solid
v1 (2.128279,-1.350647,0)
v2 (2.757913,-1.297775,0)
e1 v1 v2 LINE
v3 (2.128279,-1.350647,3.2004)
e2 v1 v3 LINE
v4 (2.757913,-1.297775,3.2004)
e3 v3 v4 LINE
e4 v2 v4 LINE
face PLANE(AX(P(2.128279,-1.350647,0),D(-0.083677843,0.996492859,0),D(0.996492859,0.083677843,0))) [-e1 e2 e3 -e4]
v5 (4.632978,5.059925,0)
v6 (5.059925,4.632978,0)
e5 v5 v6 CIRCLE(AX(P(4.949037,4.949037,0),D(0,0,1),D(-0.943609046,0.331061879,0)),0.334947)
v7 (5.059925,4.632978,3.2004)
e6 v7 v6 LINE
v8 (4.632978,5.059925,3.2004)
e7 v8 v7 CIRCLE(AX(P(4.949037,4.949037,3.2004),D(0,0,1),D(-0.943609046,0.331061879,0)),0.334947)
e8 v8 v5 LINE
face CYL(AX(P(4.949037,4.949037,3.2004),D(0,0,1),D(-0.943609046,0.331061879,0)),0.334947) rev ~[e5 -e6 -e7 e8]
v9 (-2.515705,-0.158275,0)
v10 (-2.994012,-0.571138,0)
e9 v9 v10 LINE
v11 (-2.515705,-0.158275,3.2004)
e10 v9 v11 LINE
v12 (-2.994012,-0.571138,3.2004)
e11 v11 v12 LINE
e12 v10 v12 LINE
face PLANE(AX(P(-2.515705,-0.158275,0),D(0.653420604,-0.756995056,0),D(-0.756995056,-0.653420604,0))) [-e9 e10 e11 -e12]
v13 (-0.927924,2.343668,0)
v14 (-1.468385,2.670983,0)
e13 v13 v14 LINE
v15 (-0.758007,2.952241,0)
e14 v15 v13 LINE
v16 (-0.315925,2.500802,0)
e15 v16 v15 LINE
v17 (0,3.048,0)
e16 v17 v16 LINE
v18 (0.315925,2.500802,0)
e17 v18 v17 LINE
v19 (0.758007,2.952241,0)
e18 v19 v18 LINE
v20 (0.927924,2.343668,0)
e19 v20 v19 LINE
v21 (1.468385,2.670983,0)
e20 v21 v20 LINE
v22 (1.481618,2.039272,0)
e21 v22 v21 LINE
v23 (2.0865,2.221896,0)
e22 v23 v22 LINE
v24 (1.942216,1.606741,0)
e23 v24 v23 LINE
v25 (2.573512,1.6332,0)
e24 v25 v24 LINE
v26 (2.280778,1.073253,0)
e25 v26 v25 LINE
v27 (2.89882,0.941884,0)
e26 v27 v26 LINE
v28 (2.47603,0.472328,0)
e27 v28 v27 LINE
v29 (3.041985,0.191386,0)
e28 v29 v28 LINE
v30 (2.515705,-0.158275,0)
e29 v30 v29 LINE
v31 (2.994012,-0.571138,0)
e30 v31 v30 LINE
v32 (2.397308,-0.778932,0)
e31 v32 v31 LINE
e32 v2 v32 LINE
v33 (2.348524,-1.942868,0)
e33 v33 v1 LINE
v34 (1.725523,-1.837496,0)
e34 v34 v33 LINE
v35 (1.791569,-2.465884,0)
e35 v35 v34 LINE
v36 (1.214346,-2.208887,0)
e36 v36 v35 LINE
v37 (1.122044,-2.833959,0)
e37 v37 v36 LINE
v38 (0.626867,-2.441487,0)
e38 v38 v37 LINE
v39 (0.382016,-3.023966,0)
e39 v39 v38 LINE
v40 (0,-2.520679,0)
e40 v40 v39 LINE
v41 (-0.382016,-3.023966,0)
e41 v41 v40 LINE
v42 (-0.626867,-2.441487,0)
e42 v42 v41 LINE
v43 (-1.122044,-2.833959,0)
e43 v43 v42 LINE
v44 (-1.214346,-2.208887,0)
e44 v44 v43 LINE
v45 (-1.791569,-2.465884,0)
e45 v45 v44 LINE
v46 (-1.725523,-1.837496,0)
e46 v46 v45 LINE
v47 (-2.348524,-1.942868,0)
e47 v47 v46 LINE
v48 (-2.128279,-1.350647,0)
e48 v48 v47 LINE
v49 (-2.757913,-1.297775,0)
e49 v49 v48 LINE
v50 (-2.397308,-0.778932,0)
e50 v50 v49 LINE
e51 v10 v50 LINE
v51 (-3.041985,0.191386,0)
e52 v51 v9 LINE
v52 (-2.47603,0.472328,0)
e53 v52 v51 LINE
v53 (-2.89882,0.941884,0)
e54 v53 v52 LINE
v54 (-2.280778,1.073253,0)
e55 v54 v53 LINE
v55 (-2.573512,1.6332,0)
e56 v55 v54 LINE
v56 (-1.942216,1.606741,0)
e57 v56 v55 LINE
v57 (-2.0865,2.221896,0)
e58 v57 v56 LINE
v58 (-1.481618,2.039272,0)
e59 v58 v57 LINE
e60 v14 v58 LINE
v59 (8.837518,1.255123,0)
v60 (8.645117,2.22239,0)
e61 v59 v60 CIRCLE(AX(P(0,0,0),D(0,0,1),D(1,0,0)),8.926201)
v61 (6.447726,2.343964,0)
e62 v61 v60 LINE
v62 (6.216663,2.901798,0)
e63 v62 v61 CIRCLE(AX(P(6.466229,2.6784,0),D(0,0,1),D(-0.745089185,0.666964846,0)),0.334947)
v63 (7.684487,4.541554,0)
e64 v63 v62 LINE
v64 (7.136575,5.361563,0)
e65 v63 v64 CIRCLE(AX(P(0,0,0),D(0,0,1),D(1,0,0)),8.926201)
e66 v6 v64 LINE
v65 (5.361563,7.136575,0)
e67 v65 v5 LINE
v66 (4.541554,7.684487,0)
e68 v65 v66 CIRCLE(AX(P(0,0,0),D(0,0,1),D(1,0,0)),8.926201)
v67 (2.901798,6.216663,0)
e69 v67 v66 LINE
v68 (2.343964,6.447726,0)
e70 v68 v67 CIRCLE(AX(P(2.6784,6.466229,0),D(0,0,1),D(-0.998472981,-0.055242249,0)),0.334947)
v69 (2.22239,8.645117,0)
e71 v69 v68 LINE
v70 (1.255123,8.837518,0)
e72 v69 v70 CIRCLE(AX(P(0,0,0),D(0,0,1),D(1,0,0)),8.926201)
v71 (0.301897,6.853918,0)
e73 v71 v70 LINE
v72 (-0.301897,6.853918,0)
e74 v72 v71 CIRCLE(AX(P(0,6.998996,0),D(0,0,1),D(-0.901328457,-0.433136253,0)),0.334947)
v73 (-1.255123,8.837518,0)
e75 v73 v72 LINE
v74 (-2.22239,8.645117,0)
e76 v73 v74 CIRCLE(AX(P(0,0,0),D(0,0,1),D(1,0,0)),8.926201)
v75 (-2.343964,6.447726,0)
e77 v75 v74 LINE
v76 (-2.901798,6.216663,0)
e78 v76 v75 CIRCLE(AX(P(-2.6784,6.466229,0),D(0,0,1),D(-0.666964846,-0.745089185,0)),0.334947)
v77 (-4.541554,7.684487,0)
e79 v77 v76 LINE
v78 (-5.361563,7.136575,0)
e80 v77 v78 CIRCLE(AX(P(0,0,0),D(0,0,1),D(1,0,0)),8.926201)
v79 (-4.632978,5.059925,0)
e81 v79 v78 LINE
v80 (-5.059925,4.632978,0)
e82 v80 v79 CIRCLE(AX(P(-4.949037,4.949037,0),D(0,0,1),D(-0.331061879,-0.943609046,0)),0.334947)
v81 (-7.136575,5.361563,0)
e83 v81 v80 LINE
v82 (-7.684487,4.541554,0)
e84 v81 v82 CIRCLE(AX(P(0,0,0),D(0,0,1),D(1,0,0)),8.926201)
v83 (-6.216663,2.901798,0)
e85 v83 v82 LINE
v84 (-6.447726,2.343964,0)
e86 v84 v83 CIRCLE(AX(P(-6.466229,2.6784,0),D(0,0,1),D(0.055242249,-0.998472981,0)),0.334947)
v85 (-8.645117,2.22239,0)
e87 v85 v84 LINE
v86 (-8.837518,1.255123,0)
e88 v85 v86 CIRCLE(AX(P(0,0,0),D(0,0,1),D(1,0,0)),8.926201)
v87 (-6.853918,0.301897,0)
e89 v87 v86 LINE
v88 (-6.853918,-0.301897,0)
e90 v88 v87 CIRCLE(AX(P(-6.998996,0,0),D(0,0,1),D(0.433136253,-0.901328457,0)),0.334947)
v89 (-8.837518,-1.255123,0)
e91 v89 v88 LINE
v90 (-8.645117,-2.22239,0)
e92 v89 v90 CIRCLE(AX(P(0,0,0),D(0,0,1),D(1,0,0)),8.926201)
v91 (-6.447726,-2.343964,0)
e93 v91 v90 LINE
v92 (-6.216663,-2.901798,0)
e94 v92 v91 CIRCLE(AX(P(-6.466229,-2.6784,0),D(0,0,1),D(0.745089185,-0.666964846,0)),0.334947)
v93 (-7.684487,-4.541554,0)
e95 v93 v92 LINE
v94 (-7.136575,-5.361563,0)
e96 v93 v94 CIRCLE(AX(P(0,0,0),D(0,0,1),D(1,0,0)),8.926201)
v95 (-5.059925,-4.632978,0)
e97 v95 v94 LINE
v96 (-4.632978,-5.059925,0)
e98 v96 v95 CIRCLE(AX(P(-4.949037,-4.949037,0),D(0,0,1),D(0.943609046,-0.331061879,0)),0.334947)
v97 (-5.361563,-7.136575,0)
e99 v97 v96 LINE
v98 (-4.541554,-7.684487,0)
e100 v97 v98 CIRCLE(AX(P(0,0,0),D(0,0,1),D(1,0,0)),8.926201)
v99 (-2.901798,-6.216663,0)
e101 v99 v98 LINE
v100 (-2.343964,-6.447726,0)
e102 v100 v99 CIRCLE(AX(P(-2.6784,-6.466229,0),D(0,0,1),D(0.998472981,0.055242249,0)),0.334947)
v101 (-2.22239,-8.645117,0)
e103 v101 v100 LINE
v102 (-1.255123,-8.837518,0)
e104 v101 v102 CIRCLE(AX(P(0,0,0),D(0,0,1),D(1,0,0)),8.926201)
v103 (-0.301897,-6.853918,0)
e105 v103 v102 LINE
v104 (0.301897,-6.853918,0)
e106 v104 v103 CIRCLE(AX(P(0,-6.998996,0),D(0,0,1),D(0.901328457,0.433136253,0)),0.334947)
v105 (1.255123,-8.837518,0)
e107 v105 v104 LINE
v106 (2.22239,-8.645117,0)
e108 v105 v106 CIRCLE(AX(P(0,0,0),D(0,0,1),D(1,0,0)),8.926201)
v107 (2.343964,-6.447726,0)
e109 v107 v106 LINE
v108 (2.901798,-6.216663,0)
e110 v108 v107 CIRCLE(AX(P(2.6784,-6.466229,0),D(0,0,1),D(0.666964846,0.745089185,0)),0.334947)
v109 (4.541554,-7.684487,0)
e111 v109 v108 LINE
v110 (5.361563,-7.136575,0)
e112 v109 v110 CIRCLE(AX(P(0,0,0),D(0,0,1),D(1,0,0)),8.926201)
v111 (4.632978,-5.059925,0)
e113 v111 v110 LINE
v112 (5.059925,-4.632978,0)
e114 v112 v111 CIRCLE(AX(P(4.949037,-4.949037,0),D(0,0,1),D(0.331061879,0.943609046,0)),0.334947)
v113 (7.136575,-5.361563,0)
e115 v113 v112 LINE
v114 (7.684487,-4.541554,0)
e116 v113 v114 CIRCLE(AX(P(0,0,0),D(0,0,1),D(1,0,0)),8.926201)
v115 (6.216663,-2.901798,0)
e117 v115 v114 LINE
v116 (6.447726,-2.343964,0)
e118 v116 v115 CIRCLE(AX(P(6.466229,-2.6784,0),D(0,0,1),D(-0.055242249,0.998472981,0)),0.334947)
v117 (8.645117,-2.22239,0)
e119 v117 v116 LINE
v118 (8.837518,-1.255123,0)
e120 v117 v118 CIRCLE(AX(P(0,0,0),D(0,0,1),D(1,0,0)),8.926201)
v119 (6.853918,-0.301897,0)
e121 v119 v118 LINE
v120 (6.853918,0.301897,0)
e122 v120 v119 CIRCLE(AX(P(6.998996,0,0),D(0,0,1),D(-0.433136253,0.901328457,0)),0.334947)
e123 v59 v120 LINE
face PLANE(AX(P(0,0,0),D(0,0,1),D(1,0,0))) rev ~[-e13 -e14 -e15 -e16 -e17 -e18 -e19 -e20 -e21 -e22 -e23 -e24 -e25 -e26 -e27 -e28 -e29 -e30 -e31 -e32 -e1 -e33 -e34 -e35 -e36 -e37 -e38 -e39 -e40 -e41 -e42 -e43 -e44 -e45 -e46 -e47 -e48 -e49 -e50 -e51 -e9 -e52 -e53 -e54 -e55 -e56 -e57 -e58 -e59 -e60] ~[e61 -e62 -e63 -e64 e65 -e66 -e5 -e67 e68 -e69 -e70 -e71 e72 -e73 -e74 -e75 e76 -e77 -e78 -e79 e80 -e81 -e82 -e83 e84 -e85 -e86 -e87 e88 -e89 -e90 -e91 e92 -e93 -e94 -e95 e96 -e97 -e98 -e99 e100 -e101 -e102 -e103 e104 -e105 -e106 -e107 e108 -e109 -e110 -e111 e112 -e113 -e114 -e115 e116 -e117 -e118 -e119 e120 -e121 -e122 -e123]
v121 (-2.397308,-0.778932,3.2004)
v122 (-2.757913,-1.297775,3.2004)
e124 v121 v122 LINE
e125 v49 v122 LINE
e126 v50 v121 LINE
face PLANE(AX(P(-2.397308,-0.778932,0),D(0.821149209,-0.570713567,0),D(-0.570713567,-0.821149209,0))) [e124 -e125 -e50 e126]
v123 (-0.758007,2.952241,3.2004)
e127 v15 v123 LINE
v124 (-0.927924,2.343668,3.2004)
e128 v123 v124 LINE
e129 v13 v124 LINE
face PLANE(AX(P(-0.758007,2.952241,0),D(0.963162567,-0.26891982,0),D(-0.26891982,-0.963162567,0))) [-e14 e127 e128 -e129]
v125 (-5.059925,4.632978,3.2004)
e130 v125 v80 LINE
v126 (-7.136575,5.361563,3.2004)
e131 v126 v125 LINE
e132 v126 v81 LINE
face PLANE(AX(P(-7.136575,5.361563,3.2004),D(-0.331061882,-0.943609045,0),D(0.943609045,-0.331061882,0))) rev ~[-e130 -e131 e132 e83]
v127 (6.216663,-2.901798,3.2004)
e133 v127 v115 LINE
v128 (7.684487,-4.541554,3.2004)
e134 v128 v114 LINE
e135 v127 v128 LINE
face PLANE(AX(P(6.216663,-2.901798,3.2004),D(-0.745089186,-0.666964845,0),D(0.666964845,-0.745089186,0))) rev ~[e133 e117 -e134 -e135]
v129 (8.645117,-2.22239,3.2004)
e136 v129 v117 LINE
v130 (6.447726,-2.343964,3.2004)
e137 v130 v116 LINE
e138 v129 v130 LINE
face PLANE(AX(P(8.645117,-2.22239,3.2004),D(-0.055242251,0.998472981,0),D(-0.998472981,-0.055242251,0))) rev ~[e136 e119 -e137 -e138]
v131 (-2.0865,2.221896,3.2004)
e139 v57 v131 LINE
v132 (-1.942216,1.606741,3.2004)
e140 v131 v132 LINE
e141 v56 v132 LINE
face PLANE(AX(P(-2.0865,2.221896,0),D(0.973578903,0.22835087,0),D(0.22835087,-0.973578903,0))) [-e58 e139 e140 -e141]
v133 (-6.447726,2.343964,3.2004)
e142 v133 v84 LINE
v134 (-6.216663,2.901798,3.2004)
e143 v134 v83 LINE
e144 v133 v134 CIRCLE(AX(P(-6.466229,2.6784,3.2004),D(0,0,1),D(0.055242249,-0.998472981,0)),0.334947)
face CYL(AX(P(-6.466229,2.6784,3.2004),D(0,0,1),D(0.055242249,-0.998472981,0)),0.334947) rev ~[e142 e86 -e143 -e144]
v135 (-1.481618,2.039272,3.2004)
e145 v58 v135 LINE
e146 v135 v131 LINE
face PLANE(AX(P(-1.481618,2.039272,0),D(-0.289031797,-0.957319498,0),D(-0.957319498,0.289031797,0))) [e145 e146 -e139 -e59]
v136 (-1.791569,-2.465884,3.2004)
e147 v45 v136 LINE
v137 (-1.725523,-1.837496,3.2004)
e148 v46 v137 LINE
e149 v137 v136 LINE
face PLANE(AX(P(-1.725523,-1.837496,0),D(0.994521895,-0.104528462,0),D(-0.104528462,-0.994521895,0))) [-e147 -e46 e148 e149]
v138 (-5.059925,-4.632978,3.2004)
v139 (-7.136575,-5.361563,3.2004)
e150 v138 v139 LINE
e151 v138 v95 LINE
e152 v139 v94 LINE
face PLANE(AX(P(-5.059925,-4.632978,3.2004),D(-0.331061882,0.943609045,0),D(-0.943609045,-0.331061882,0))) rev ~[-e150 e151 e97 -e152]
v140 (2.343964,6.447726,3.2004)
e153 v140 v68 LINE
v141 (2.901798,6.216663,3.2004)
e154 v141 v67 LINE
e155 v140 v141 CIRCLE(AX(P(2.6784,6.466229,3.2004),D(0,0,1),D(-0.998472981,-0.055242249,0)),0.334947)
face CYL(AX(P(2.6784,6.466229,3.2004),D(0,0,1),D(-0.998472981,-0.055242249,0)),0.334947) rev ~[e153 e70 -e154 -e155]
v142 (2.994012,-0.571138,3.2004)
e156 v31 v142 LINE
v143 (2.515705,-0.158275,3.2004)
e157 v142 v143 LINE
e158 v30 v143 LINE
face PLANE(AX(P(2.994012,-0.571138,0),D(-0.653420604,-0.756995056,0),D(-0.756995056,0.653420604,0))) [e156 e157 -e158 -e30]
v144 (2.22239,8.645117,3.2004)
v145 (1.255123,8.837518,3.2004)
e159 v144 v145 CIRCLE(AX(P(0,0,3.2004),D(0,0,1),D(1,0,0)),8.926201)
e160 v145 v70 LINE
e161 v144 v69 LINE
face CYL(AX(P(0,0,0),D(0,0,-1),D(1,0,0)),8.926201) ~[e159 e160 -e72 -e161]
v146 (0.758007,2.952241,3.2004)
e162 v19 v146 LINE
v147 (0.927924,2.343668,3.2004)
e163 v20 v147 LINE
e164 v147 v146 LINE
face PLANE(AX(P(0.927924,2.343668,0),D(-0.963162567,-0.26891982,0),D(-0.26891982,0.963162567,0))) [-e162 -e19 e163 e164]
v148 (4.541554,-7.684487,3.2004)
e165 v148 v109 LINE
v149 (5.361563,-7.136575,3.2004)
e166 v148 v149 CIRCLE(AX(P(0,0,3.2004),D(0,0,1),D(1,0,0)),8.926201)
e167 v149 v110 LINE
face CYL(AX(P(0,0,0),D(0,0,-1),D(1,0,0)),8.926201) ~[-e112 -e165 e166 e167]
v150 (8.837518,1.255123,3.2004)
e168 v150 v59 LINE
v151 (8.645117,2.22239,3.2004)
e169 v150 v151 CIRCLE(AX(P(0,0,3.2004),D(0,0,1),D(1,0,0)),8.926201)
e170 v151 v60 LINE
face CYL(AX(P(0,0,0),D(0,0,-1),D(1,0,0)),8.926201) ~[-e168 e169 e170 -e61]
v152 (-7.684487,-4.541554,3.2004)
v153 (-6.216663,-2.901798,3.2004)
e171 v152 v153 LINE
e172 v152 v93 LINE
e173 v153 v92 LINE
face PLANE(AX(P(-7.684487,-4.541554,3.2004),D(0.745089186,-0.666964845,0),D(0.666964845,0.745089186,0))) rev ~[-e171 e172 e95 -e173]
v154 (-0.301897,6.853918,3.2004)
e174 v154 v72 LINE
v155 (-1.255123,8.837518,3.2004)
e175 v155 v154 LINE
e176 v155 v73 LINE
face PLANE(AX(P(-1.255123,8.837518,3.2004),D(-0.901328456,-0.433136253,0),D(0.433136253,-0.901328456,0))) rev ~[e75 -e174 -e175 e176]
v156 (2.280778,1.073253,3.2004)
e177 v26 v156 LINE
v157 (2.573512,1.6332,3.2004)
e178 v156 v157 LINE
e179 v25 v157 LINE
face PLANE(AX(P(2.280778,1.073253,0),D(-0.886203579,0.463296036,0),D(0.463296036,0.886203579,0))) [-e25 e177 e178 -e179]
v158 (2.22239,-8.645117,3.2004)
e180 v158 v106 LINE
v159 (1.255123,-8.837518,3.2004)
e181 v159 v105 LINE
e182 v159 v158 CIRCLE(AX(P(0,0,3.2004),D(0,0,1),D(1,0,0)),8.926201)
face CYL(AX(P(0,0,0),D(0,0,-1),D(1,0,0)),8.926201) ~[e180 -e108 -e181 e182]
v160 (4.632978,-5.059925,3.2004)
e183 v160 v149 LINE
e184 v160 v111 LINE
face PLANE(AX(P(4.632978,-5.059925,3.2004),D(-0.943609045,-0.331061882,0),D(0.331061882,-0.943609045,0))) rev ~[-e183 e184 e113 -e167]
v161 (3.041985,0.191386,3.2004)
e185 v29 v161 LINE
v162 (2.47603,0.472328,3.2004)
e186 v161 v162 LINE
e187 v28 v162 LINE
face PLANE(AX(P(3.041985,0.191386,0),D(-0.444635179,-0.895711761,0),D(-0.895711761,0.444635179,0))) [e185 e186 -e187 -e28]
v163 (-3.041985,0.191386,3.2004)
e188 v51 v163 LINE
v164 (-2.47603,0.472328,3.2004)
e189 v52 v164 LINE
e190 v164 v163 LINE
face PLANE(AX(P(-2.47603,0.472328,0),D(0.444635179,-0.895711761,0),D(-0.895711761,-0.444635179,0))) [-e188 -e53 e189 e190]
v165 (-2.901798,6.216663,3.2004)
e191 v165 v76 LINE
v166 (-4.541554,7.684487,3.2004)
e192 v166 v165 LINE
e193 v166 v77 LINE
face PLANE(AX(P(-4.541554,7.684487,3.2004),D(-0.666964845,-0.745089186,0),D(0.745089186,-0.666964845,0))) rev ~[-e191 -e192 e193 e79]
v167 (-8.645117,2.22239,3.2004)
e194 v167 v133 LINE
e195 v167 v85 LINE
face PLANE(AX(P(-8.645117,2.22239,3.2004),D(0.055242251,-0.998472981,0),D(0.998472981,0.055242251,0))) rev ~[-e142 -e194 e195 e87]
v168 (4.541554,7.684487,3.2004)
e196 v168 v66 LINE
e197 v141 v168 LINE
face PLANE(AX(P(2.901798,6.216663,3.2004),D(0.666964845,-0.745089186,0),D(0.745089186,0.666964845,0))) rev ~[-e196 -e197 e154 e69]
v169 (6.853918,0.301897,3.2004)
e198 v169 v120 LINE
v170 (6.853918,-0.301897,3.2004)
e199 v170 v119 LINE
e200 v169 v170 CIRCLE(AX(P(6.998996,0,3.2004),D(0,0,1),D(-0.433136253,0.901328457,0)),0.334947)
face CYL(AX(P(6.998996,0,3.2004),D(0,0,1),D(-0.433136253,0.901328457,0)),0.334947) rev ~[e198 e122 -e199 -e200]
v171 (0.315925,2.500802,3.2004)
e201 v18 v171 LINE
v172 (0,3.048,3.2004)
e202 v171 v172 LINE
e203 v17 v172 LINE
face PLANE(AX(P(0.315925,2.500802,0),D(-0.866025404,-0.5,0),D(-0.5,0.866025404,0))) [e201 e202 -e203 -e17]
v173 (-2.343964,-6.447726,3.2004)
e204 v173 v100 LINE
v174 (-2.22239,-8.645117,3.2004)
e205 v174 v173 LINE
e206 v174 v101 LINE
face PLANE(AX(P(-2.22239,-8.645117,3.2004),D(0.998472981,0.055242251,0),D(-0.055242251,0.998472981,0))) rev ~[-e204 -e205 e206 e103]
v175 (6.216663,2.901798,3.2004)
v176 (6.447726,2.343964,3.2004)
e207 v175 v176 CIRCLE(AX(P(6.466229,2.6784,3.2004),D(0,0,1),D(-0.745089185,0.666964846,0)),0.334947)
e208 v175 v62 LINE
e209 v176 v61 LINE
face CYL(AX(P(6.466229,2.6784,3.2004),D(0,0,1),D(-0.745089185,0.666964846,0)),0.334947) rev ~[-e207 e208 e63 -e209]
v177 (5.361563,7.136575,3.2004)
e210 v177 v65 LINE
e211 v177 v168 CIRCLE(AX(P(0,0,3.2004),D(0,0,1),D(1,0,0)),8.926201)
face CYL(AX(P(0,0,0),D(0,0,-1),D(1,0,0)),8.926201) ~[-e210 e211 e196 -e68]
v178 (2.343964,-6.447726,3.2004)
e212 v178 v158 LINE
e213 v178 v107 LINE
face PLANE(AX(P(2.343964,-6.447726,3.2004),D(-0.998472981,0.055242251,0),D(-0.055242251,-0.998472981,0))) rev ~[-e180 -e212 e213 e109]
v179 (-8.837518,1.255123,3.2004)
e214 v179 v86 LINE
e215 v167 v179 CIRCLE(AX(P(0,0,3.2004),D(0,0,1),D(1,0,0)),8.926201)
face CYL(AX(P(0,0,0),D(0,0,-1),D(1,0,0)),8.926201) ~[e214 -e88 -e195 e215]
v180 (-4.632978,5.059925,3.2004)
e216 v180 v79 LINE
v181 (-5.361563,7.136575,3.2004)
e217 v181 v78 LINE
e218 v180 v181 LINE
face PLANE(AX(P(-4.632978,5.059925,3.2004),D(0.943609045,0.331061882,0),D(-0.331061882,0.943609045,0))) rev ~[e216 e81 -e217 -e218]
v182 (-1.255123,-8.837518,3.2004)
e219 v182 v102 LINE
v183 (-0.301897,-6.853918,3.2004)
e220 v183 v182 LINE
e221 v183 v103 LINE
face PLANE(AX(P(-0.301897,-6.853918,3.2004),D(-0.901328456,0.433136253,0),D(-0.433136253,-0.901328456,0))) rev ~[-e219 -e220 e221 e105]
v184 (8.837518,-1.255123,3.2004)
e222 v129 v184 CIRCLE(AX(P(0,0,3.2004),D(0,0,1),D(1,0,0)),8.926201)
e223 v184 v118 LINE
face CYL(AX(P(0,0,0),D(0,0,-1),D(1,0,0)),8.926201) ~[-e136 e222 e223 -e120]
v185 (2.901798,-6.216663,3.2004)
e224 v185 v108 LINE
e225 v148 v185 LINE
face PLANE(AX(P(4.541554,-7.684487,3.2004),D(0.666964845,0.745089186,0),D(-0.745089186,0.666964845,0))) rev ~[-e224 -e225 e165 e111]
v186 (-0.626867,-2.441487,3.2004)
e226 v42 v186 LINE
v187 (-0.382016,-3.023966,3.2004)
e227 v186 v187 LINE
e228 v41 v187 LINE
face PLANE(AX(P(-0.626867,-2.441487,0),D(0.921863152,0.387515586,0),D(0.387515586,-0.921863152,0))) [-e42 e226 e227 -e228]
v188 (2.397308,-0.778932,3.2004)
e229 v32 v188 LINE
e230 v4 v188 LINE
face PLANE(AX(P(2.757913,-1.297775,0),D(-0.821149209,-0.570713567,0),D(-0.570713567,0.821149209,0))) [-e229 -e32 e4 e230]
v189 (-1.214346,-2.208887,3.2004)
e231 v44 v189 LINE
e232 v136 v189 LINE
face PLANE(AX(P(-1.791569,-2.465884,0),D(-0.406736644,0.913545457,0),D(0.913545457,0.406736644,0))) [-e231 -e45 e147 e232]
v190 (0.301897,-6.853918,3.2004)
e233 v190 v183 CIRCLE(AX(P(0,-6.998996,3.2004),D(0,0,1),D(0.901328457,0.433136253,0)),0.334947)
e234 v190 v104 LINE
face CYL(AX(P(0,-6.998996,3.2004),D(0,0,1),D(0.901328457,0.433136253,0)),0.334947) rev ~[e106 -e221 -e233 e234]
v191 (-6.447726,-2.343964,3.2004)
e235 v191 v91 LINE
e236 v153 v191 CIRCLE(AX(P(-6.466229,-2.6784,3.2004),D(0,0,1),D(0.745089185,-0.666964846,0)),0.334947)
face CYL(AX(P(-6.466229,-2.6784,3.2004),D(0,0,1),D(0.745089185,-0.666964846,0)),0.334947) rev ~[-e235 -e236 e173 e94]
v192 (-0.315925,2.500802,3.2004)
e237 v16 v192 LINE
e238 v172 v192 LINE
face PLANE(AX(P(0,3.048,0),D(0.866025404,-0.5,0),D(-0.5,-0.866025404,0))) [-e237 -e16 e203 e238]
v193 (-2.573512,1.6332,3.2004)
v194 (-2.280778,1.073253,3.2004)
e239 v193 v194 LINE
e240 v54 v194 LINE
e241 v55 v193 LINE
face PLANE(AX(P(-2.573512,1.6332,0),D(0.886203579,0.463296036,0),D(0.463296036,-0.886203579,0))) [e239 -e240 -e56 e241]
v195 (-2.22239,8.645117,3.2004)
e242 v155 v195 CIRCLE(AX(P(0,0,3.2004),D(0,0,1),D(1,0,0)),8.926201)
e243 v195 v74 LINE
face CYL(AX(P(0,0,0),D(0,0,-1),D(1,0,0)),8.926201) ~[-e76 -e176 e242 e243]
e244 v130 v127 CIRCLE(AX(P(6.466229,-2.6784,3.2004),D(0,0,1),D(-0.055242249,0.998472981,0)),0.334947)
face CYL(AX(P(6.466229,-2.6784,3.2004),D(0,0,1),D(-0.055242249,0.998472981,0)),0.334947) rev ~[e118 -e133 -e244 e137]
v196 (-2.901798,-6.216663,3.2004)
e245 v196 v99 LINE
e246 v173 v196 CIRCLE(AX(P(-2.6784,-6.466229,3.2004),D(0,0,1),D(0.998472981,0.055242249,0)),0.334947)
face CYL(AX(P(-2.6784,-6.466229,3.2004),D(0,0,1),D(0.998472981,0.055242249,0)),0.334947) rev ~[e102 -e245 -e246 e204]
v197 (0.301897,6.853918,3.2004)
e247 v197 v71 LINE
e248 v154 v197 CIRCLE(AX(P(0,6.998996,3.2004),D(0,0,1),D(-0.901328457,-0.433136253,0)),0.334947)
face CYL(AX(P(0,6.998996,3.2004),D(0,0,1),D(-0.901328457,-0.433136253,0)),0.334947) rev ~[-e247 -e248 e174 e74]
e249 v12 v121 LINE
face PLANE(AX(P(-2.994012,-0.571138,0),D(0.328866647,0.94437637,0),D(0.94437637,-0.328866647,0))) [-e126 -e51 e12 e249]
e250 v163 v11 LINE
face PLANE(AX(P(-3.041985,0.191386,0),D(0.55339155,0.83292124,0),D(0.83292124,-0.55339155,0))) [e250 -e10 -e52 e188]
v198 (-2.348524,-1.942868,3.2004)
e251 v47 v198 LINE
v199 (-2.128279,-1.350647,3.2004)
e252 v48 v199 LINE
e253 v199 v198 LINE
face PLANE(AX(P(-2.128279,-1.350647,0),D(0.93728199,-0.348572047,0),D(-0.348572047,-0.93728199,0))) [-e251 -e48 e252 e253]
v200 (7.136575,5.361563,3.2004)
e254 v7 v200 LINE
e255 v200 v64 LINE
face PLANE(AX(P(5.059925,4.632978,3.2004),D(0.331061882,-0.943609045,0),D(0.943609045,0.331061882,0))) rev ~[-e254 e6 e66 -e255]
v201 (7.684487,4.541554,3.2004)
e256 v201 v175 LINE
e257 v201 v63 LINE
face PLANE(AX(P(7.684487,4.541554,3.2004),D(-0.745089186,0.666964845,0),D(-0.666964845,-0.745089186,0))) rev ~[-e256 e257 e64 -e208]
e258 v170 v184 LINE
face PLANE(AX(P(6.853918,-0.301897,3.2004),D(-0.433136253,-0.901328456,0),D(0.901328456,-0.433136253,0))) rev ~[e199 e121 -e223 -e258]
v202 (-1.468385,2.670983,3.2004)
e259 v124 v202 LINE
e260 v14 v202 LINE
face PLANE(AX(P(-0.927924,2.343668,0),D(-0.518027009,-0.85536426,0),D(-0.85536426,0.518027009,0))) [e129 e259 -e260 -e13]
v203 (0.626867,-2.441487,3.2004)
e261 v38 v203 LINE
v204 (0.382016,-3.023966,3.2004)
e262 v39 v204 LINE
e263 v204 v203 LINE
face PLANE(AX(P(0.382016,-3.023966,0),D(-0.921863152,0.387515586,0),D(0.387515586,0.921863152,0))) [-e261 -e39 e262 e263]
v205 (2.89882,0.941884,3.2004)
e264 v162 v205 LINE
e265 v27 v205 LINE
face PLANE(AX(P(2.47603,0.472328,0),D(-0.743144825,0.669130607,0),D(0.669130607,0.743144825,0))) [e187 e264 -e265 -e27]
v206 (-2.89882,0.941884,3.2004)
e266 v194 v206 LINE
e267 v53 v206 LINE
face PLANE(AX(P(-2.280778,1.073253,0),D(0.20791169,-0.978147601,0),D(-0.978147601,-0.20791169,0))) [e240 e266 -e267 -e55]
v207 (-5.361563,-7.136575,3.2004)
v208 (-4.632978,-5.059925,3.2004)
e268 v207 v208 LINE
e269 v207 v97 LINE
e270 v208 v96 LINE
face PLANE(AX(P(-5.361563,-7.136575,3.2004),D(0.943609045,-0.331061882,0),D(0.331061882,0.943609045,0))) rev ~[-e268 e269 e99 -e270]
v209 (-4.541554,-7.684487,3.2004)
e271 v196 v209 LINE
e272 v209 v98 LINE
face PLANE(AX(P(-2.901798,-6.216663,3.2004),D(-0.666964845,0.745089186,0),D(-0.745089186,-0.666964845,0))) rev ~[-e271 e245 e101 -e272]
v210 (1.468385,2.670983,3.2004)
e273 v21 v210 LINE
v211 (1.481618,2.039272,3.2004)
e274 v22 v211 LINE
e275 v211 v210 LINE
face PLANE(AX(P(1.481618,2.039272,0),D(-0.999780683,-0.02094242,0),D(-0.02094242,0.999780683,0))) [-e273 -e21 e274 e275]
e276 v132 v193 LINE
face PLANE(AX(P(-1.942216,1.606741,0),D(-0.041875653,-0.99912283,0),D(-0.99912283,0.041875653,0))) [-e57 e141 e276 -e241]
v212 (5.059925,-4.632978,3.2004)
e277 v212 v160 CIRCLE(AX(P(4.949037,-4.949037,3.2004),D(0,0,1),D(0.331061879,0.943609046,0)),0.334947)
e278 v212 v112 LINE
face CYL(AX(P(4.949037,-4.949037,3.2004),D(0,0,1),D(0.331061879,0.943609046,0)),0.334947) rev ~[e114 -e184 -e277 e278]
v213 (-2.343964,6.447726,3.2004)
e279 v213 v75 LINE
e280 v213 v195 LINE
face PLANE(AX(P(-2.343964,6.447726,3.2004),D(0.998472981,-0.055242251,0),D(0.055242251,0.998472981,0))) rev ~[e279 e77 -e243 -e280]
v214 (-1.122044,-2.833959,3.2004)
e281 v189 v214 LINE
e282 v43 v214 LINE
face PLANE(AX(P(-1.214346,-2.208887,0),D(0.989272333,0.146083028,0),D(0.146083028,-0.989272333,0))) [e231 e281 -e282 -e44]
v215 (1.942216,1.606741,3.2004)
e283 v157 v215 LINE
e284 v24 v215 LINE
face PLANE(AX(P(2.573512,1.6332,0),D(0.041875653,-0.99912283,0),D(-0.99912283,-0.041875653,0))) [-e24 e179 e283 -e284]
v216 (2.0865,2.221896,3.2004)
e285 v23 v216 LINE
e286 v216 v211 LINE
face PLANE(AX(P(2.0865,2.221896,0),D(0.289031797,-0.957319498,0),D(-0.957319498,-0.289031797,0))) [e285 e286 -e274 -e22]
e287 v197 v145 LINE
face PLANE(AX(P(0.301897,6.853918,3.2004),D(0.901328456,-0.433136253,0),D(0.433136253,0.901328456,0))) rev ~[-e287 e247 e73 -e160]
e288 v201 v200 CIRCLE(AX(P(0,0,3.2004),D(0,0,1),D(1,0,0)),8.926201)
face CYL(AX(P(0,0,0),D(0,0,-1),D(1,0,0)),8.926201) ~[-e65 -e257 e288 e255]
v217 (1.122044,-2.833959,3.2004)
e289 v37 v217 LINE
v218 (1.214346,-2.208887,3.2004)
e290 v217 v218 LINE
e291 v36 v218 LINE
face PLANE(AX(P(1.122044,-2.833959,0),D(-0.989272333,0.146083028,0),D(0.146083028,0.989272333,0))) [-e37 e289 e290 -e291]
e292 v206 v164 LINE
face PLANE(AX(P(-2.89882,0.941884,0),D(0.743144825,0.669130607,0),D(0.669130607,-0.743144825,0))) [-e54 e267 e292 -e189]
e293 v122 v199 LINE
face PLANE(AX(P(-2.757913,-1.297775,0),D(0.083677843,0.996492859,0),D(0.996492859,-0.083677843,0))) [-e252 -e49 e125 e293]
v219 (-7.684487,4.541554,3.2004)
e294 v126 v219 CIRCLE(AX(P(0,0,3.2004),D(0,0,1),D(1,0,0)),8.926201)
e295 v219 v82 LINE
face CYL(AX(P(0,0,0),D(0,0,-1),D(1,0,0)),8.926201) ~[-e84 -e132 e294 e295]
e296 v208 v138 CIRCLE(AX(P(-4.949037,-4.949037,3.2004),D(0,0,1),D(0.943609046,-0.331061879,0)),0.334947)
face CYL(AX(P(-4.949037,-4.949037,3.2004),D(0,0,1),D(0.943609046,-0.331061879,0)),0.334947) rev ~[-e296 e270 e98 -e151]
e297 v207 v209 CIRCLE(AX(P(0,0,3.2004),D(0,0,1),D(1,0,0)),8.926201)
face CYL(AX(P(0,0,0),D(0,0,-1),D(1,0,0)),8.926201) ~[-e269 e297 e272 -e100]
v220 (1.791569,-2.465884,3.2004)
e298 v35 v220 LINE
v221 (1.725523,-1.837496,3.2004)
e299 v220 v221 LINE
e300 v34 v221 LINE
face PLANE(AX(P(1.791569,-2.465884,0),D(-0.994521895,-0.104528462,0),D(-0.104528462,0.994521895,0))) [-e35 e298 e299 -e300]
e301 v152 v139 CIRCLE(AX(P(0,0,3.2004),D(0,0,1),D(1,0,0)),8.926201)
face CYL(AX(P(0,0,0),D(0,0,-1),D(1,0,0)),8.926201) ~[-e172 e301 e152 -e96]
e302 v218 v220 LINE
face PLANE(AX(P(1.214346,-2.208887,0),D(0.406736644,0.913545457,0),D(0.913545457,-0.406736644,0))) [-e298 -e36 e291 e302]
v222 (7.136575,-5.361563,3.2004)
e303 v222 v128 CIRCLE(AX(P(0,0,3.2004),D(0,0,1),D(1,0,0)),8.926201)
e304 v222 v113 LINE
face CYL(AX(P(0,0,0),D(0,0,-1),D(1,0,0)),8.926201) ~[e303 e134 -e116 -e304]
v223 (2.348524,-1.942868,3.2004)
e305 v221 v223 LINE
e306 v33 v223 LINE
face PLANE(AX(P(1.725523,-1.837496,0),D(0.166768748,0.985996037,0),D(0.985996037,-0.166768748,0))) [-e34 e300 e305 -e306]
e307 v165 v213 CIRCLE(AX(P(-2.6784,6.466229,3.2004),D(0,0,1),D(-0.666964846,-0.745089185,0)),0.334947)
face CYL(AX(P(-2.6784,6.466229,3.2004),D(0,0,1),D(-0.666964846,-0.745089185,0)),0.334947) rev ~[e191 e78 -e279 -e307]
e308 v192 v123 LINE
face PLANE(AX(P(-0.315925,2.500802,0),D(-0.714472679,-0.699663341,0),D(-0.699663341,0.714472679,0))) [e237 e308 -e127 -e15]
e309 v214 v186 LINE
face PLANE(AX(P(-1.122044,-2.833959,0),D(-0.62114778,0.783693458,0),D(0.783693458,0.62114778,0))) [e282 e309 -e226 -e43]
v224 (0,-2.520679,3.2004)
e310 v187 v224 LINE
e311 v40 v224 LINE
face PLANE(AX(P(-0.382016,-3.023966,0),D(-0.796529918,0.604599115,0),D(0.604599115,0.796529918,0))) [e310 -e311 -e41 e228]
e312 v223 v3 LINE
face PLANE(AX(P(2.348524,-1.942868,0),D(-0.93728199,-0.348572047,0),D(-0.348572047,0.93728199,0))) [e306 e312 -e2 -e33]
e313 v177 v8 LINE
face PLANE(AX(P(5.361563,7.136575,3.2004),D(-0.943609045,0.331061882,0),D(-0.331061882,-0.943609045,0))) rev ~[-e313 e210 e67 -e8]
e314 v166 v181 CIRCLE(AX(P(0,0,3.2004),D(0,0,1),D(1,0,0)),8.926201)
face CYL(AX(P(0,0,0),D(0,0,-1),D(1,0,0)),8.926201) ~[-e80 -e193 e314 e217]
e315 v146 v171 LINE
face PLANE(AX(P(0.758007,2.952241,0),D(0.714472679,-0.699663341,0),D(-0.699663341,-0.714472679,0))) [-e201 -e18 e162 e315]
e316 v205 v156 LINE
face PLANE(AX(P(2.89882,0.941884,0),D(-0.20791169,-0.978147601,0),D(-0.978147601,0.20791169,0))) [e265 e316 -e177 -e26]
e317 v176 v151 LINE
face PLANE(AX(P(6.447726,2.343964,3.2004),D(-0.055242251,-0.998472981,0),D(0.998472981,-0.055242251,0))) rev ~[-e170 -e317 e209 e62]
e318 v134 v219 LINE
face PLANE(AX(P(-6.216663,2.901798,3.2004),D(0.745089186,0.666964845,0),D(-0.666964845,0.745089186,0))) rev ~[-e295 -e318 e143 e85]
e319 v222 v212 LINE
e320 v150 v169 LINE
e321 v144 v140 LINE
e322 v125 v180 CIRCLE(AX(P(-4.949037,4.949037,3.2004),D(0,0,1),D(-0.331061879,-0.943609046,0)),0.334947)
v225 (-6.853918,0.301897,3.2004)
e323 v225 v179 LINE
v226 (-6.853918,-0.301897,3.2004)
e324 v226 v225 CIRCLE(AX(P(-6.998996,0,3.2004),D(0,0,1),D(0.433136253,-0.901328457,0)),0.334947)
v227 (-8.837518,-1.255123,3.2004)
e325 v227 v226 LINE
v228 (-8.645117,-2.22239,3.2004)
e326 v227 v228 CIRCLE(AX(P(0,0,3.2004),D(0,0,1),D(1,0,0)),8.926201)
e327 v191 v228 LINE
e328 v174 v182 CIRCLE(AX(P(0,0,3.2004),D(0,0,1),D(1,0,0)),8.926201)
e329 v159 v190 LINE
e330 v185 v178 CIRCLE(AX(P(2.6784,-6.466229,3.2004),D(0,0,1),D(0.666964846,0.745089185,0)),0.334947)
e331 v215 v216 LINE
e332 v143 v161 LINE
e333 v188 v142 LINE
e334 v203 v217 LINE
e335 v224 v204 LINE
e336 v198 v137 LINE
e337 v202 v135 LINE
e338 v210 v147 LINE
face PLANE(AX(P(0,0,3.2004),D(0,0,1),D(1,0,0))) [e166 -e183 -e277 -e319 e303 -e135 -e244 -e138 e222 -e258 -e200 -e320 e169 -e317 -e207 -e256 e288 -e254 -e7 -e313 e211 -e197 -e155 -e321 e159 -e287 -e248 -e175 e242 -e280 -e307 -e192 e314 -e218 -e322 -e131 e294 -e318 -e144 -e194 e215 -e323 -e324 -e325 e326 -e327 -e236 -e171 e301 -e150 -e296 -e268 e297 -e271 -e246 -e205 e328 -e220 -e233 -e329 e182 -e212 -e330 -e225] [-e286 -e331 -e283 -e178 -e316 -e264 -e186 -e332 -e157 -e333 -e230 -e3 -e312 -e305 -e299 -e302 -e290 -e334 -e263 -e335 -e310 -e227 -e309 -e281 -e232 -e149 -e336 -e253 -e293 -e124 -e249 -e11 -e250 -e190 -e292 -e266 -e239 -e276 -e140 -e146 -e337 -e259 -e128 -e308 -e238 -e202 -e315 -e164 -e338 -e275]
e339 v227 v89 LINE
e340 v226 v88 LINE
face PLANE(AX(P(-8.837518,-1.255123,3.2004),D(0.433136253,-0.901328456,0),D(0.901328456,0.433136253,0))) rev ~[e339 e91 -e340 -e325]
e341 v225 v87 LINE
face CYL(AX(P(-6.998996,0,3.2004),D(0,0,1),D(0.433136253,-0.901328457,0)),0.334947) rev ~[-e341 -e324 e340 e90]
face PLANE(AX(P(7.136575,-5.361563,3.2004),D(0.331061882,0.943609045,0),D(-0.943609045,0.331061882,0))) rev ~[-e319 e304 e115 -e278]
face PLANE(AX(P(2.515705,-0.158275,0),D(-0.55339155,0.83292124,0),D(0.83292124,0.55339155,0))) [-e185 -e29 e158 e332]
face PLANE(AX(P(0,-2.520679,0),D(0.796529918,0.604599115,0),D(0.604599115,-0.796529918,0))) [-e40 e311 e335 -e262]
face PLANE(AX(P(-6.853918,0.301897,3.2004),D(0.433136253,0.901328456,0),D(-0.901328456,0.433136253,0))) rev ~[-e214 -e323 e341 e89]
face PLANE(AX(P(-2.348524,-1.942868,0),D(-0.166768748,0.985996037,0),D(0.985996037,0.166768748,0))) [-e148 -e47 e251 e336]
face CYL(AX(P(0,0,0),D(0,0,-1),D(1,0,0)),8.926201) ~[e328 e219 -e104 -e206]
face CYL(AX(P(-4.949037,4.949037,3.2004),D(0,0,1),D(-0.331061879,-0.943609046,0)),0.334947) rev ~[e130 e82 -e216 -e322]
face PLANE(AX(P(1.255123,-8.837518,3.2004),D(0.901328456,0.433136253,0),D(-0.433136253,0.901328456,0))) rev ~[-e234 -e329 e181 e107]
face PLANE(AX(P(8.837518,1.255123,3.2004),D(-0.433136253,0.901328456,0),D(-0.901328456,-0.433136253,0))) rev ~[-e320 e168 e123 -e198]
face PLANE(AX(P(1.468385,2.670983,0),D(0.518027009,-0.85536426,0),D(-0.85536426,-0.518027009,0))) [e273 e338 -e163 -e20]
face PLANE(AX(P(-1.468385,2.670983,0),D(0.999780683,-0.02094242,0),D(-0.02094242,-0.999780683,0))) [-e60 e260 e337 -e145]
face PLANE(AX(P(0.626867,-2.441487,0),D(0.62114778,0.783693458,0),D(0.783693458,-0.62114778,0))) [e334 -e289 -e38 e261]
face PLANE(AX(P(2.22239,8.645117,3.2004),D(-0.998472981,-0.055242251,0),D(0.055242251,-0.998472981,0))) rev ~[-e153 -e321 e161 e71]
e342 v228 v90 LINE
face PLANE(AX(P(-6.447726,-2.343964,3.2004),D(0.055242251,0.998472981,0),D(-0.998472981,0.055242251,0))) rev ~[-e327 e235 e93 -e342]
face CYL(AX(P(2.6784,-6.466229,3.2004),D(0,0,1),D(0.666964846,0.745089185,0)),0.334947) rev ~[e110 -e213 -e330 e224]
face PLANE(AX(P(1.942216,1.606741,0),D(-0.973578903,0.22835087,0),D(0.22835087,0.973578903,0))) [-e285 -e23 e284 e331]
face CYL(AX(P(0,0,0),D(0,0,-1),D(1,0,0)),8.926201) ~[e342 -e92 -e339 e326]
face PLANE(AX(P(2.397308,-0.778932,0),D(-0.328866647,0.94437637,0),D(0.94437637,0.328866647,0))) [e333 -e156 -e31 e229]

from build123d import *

# Parameters (mm, degrees)
SKETCH1_R           = 8.926200703
BOSS_EXTRUDE1_DEPTH = 3.2004
CUT_EXTRUDE1_DEPTH  = 3.2004


with BuildPart() as part:
    # Sketch1 → Boss-Extrude1 (new body)
    with BuildSketch(Plane.XY):
        Circle(SKETCH1_R)
        Polygon((0, 3.048), (-0.315924789, 2.500802214), (-0.758006776, 2.952241475), (-0.927923651, 2.343667613), (-1.468385199, 2.670982761), (-1.481617658, 2.039271757), (-2.086499579, 2.221896376), (-1.942216178, 1.606740957), (-2.573511517, 1.633200071), (-2.280778112, 1.073252713), (-2.898820262, 0.941883799), (-2.47603037, 0.472328054), (-3.041985468, 0.191385504), (-2.515704533, -0.158274714), (-2.99401154, -0.571138247), (-2.397307729, -0.778932499), (-2.757912856, -1.297775281), (-2.128279263, -1.350647091), (-2.348524364, -1.942868321), (-1.725523184, -1.837495558), (-1.791569449, -2.465883799), (-1.214346137, -2.208887422), (-1.122043637, -2.833958729), (-0.626867256, -2.441486766), (-0.382015696, -3.02396561), (0, -2.520678517), (0.382015696, -3.02396561), (0.626867256, -2.441486766), (1.122043637, -2.833958729), (1.214346137, -2.208887422), (1.791569449, -2.465883799), (1.725523184, -1.837495558), (2.348524364, -1.942868321), (2.128279263, -1.350647091), (2.757912856, -1.297775281), (2.397307729, -0.778932499), (2.99401154, -0.571138247), (2.515704533, -0.158274714), (3.041985468, 0.191385504), (2.47603037, 0.472328054), (2.898820262, 0.941883799), (2.280778112, 1.073252713), (2.573511517, 1.633200071), (1.942216178, 1.606740957), (2.086499579, 2.221896376), (1.481617658, 2.039271757), (1.468385199, 2.670982761), (0.927923651, 2.343667613), (0.758006776, 2.952241475), (0.315924789, 2.500802214), align=None, mode=Mode.SUBTRACT)
    extrude(amount=BOSS_EXTRUDE1_DEPTH)

    # Sketch2 → Cut-Extrude1 (cut)
    with BuildSketch(Plane.XY.offset(3.2004)):
        with BuildLine():
            Line((-1.255122678, 8.837518093), (-0.301897322, 6.853917937))
            ThreePointArc((-0.301897322, 6.853917937), (0, 6.664048588), (0.301897322, 6.853917937))
            Line((0.301897322, 6.853917937), (1.255122678, 8.837518093))
            ThreePointArc((1.255122678, 8.837518093), (0, 8.926200703), (-1.255122678, 8.837518093))
        make_face()
        with BuildLine():
            Line((2.901797598, 6.216663396), (4.54155391, 7.68448743))
            ThreePointArc((4.54155391, 7.68448743), (3.415909123, 8.246734132), (2.222389605, 8.645116739))
            Line((2.222389605, 8.645116739), (2.343964085, 6.447725603))
            ThreePointArc((2.343964085, 6.447725603), (2.550220987, 6.156778094), (2.901797598, 6.216663396))
        make_face()
        with BuildLine():
            Line((5.059925495, 4.632978207), (7.136574729, 5.361563216))
            ThreePointArc((7.136574729, 5.361563216), (6.311777047, 6.311777047), (5.361563216, 7.136574729))
            Line((5.361563216, 7.136574729), (4.632978207, 5.059925495))
            ThreePointArc((4.632978207, 5.059925495), (4.712193947, 4.712193947), (5.059925495, 4.632978207))
        make_face()
        with BuildLine():
            Line((6.447725603, 2.343964085), (8.645116739, 2.222389605))
            ThreePointArc((8.645116739, 2.222389605), (8.246734132, 3.415909123), (7.68448743, 4.54155391))
            Line((7.68448743, 4.54155391), (6.216663396, 2.901797598))
            ThreePointArc((6.216663396, 2.901797598), (6.156778094, 2.550220987), (6.447725603, 2.343964085))
        make_face()
        with BuildLine():
            Line((6.853917937, -0.301897322), (8.837518093, -1.255122678))
            ThreePointArc((8.837518093, -1.255122678), (8.926200703, 0), (8.837518093, 1.255122678))
            Line((8.837518093, 1.255122678), (6.853917937, 0.301897322))
            ThreePointArc((6.853917937, 0.301897322), (6.664048588, 0), (6.853917937, -0.301897322))
        make_face()
        with BuildLine():
            Line((6.216663396, -2.901797598), (7.68448743, -4.54155391))
            ThreePointArc((7.68448743, -4.54155391), (8.246734132, -3.415909123), (8.645116739, -2.222389605))
            Line((8.645116739, -2.222389605), (6.447725603, -2.343964085))
            ThreePointArc((6.447725603, -2.343964085), (6.156778094, -2.550220987), (6.216663396, -2.901797598))
        make_face()
        with BuildLine():
            Line((4.632978207, -5.059925495), (5.361563216, -7.136574729))
            ThreePointArc((5.361563216, -7.136574729), (6.311777047, -6.311777047), (7.136574729, -5.361563216))
            Line((7.136574729, -5.361563216), (5.059925495, -4.632978207))
            ThreePointArc((5.059925495, -4.632978207), (4.712193947, -4.712193947), (4.632978207, -5.059925495))
        make_face()
        with BuildLine():
            Line((2.343964085, -6.447725603), (2.222389605, -8.645116739))
            ThreePointArc((2.222389605, -8.645116739), (3.415909123, -8.246734132), (4.54155391, -7.68448743))
            Line((4.54155391, -7.68448743), (2.901797598, -6.216663396))
            ThreePointArc((2.901797598, -6.216663396), (2.550220987, -6.156778094), (2.343964085, -6.447725603))
        make_face()
        with BuildLine():
            Line((-0.301897322, -6.853917937), (-1.255122678, -8.837518093))
            ThreePointArc((-1.255122678, -8.837518093), (0, -8.926200703), (1.255122678, -8.837518093))
            Line((1.255122678, -8.837518093), (0.301897322, -6.853917937))
            ThreePointArc((0.301897322, -6.853917937), (0, -6.664048588), (-0.301897322, -6.853917937))
        make_face()
        with BuildLine():
            Line((-2.901797598, -6.216663396), (-4.54155391, -7.68448743))
            ThreePointArc((-4.54155391, -7.68448743), (-3.415909123, -8.246734132), (-2.222389605, -8.645116739))
            Line((-2.222389605, -8.645116739), (-2.343964085, -6.447725603))
            ThreePointArc((-2.343964085, -6.447725603), (-2.550220987, -6.156778094), (-2.901797598, -6.216663396))
        make_face()
        with BuildLine():
            Line((-5.059925495, -4.632978207), (-7.136574729, -5.361563216))
            ThreePointArc((-7.136574729, -5.361563216), (-6.311777047, -6.311777047), (-5.361563216, -7.136574729))
            Line((-5.361563216, -7.136574729), (-4.632978207, -5.059925495))
            ThreePointArc((-4.632978207, -5.059925495), (-4.712193947, -4.712193947), (-5.059925495, -4.632978207))
        make_face()
        with BuildLine():
            Line((-6.447725603, -2.343964085), (-8.645116739, -2.222389605))
            ThreePointArc((-8.645116739, -2.222389605), (-8.246734132, -3.415909123), (-7.68448743, -4.54155391))
            Line((-7.68448743, -4.54155391), (-6.216663396, -2.901797598))
            ThreePointArc((-6.216663396, -2.901797598), (-6.156778094, -2.550220987), (-6.447725603, -2.343964085))
        make_face()
        with BuildLine():
            Line((-6.853917937, 0.301897322), (-8.837518093, 1.255122678))
            ThreePointArc((-8.837518093, 1.255122678), (-8.926200703, 0), (-8.837518093, -1.255122678))
            Line((-8.837518093, -1.255122678), (-6.853917937, -0.301897322))
            ThreePointArc((-6.853917937, -0.301897322), (-6.664048588, 0), (-6.853917937, 0.301897322))
        make_face()
        with BuildLine():
            Line((-6.216663396, 2.901797598), (-7.68448743, 4.54155391))
            ThreePointArc((-7.68448743, 4.54155391), (-8.246734132, 3.415909123), (-8.645116739, 2.222389605))
            Line((-8.645116739, 2.222389605), (-6.447725603, 2.343964085))
            ThreePointArc((-6.447725603, 2.343964085), (-6.156778094, 2.550220987), (-6.216663396, 2.901797598))
        make_face()
        with BuildLine():
            Line((-4.632978207, 5.059925495), (-5.361563216, 7.136574729))
            ThreePointArc((-5.361563216, 7.136574729), (-6.311777047, 6.311777047), (-7.136574729, 5.361563216))
            Line((-7.136574729, 5.361563216), (-5.059925495, 4.632978207))
            ThreePointArc((-5.059925495, 4.632978207), (-4.712193947, 4.712193947), (-4.632978207, 5.059925495))
        make_face()
        with BuildLine():
            Line((-2.343964085, 6.447725603), (-2.222389605, 8.645116739))
            ThreePointArc((-2.222389605, 8.645116739), (-3.415909123, 8.246734132), (-4.54155391, 7.68448743))
            Line((-4.54155391, 7.68448743), (-2.901797598, 6.216663396))
            ThreePointArc((-2.901797598, 6.216663396), (-2.550220987, 6.156778094), (-2.343964085, 6.447725603))
        make_face()
    extrude(amount=-CUT_EXTRUDE1_DEPTH, mode=Mode.SUBTRACT)


solid = part.part
